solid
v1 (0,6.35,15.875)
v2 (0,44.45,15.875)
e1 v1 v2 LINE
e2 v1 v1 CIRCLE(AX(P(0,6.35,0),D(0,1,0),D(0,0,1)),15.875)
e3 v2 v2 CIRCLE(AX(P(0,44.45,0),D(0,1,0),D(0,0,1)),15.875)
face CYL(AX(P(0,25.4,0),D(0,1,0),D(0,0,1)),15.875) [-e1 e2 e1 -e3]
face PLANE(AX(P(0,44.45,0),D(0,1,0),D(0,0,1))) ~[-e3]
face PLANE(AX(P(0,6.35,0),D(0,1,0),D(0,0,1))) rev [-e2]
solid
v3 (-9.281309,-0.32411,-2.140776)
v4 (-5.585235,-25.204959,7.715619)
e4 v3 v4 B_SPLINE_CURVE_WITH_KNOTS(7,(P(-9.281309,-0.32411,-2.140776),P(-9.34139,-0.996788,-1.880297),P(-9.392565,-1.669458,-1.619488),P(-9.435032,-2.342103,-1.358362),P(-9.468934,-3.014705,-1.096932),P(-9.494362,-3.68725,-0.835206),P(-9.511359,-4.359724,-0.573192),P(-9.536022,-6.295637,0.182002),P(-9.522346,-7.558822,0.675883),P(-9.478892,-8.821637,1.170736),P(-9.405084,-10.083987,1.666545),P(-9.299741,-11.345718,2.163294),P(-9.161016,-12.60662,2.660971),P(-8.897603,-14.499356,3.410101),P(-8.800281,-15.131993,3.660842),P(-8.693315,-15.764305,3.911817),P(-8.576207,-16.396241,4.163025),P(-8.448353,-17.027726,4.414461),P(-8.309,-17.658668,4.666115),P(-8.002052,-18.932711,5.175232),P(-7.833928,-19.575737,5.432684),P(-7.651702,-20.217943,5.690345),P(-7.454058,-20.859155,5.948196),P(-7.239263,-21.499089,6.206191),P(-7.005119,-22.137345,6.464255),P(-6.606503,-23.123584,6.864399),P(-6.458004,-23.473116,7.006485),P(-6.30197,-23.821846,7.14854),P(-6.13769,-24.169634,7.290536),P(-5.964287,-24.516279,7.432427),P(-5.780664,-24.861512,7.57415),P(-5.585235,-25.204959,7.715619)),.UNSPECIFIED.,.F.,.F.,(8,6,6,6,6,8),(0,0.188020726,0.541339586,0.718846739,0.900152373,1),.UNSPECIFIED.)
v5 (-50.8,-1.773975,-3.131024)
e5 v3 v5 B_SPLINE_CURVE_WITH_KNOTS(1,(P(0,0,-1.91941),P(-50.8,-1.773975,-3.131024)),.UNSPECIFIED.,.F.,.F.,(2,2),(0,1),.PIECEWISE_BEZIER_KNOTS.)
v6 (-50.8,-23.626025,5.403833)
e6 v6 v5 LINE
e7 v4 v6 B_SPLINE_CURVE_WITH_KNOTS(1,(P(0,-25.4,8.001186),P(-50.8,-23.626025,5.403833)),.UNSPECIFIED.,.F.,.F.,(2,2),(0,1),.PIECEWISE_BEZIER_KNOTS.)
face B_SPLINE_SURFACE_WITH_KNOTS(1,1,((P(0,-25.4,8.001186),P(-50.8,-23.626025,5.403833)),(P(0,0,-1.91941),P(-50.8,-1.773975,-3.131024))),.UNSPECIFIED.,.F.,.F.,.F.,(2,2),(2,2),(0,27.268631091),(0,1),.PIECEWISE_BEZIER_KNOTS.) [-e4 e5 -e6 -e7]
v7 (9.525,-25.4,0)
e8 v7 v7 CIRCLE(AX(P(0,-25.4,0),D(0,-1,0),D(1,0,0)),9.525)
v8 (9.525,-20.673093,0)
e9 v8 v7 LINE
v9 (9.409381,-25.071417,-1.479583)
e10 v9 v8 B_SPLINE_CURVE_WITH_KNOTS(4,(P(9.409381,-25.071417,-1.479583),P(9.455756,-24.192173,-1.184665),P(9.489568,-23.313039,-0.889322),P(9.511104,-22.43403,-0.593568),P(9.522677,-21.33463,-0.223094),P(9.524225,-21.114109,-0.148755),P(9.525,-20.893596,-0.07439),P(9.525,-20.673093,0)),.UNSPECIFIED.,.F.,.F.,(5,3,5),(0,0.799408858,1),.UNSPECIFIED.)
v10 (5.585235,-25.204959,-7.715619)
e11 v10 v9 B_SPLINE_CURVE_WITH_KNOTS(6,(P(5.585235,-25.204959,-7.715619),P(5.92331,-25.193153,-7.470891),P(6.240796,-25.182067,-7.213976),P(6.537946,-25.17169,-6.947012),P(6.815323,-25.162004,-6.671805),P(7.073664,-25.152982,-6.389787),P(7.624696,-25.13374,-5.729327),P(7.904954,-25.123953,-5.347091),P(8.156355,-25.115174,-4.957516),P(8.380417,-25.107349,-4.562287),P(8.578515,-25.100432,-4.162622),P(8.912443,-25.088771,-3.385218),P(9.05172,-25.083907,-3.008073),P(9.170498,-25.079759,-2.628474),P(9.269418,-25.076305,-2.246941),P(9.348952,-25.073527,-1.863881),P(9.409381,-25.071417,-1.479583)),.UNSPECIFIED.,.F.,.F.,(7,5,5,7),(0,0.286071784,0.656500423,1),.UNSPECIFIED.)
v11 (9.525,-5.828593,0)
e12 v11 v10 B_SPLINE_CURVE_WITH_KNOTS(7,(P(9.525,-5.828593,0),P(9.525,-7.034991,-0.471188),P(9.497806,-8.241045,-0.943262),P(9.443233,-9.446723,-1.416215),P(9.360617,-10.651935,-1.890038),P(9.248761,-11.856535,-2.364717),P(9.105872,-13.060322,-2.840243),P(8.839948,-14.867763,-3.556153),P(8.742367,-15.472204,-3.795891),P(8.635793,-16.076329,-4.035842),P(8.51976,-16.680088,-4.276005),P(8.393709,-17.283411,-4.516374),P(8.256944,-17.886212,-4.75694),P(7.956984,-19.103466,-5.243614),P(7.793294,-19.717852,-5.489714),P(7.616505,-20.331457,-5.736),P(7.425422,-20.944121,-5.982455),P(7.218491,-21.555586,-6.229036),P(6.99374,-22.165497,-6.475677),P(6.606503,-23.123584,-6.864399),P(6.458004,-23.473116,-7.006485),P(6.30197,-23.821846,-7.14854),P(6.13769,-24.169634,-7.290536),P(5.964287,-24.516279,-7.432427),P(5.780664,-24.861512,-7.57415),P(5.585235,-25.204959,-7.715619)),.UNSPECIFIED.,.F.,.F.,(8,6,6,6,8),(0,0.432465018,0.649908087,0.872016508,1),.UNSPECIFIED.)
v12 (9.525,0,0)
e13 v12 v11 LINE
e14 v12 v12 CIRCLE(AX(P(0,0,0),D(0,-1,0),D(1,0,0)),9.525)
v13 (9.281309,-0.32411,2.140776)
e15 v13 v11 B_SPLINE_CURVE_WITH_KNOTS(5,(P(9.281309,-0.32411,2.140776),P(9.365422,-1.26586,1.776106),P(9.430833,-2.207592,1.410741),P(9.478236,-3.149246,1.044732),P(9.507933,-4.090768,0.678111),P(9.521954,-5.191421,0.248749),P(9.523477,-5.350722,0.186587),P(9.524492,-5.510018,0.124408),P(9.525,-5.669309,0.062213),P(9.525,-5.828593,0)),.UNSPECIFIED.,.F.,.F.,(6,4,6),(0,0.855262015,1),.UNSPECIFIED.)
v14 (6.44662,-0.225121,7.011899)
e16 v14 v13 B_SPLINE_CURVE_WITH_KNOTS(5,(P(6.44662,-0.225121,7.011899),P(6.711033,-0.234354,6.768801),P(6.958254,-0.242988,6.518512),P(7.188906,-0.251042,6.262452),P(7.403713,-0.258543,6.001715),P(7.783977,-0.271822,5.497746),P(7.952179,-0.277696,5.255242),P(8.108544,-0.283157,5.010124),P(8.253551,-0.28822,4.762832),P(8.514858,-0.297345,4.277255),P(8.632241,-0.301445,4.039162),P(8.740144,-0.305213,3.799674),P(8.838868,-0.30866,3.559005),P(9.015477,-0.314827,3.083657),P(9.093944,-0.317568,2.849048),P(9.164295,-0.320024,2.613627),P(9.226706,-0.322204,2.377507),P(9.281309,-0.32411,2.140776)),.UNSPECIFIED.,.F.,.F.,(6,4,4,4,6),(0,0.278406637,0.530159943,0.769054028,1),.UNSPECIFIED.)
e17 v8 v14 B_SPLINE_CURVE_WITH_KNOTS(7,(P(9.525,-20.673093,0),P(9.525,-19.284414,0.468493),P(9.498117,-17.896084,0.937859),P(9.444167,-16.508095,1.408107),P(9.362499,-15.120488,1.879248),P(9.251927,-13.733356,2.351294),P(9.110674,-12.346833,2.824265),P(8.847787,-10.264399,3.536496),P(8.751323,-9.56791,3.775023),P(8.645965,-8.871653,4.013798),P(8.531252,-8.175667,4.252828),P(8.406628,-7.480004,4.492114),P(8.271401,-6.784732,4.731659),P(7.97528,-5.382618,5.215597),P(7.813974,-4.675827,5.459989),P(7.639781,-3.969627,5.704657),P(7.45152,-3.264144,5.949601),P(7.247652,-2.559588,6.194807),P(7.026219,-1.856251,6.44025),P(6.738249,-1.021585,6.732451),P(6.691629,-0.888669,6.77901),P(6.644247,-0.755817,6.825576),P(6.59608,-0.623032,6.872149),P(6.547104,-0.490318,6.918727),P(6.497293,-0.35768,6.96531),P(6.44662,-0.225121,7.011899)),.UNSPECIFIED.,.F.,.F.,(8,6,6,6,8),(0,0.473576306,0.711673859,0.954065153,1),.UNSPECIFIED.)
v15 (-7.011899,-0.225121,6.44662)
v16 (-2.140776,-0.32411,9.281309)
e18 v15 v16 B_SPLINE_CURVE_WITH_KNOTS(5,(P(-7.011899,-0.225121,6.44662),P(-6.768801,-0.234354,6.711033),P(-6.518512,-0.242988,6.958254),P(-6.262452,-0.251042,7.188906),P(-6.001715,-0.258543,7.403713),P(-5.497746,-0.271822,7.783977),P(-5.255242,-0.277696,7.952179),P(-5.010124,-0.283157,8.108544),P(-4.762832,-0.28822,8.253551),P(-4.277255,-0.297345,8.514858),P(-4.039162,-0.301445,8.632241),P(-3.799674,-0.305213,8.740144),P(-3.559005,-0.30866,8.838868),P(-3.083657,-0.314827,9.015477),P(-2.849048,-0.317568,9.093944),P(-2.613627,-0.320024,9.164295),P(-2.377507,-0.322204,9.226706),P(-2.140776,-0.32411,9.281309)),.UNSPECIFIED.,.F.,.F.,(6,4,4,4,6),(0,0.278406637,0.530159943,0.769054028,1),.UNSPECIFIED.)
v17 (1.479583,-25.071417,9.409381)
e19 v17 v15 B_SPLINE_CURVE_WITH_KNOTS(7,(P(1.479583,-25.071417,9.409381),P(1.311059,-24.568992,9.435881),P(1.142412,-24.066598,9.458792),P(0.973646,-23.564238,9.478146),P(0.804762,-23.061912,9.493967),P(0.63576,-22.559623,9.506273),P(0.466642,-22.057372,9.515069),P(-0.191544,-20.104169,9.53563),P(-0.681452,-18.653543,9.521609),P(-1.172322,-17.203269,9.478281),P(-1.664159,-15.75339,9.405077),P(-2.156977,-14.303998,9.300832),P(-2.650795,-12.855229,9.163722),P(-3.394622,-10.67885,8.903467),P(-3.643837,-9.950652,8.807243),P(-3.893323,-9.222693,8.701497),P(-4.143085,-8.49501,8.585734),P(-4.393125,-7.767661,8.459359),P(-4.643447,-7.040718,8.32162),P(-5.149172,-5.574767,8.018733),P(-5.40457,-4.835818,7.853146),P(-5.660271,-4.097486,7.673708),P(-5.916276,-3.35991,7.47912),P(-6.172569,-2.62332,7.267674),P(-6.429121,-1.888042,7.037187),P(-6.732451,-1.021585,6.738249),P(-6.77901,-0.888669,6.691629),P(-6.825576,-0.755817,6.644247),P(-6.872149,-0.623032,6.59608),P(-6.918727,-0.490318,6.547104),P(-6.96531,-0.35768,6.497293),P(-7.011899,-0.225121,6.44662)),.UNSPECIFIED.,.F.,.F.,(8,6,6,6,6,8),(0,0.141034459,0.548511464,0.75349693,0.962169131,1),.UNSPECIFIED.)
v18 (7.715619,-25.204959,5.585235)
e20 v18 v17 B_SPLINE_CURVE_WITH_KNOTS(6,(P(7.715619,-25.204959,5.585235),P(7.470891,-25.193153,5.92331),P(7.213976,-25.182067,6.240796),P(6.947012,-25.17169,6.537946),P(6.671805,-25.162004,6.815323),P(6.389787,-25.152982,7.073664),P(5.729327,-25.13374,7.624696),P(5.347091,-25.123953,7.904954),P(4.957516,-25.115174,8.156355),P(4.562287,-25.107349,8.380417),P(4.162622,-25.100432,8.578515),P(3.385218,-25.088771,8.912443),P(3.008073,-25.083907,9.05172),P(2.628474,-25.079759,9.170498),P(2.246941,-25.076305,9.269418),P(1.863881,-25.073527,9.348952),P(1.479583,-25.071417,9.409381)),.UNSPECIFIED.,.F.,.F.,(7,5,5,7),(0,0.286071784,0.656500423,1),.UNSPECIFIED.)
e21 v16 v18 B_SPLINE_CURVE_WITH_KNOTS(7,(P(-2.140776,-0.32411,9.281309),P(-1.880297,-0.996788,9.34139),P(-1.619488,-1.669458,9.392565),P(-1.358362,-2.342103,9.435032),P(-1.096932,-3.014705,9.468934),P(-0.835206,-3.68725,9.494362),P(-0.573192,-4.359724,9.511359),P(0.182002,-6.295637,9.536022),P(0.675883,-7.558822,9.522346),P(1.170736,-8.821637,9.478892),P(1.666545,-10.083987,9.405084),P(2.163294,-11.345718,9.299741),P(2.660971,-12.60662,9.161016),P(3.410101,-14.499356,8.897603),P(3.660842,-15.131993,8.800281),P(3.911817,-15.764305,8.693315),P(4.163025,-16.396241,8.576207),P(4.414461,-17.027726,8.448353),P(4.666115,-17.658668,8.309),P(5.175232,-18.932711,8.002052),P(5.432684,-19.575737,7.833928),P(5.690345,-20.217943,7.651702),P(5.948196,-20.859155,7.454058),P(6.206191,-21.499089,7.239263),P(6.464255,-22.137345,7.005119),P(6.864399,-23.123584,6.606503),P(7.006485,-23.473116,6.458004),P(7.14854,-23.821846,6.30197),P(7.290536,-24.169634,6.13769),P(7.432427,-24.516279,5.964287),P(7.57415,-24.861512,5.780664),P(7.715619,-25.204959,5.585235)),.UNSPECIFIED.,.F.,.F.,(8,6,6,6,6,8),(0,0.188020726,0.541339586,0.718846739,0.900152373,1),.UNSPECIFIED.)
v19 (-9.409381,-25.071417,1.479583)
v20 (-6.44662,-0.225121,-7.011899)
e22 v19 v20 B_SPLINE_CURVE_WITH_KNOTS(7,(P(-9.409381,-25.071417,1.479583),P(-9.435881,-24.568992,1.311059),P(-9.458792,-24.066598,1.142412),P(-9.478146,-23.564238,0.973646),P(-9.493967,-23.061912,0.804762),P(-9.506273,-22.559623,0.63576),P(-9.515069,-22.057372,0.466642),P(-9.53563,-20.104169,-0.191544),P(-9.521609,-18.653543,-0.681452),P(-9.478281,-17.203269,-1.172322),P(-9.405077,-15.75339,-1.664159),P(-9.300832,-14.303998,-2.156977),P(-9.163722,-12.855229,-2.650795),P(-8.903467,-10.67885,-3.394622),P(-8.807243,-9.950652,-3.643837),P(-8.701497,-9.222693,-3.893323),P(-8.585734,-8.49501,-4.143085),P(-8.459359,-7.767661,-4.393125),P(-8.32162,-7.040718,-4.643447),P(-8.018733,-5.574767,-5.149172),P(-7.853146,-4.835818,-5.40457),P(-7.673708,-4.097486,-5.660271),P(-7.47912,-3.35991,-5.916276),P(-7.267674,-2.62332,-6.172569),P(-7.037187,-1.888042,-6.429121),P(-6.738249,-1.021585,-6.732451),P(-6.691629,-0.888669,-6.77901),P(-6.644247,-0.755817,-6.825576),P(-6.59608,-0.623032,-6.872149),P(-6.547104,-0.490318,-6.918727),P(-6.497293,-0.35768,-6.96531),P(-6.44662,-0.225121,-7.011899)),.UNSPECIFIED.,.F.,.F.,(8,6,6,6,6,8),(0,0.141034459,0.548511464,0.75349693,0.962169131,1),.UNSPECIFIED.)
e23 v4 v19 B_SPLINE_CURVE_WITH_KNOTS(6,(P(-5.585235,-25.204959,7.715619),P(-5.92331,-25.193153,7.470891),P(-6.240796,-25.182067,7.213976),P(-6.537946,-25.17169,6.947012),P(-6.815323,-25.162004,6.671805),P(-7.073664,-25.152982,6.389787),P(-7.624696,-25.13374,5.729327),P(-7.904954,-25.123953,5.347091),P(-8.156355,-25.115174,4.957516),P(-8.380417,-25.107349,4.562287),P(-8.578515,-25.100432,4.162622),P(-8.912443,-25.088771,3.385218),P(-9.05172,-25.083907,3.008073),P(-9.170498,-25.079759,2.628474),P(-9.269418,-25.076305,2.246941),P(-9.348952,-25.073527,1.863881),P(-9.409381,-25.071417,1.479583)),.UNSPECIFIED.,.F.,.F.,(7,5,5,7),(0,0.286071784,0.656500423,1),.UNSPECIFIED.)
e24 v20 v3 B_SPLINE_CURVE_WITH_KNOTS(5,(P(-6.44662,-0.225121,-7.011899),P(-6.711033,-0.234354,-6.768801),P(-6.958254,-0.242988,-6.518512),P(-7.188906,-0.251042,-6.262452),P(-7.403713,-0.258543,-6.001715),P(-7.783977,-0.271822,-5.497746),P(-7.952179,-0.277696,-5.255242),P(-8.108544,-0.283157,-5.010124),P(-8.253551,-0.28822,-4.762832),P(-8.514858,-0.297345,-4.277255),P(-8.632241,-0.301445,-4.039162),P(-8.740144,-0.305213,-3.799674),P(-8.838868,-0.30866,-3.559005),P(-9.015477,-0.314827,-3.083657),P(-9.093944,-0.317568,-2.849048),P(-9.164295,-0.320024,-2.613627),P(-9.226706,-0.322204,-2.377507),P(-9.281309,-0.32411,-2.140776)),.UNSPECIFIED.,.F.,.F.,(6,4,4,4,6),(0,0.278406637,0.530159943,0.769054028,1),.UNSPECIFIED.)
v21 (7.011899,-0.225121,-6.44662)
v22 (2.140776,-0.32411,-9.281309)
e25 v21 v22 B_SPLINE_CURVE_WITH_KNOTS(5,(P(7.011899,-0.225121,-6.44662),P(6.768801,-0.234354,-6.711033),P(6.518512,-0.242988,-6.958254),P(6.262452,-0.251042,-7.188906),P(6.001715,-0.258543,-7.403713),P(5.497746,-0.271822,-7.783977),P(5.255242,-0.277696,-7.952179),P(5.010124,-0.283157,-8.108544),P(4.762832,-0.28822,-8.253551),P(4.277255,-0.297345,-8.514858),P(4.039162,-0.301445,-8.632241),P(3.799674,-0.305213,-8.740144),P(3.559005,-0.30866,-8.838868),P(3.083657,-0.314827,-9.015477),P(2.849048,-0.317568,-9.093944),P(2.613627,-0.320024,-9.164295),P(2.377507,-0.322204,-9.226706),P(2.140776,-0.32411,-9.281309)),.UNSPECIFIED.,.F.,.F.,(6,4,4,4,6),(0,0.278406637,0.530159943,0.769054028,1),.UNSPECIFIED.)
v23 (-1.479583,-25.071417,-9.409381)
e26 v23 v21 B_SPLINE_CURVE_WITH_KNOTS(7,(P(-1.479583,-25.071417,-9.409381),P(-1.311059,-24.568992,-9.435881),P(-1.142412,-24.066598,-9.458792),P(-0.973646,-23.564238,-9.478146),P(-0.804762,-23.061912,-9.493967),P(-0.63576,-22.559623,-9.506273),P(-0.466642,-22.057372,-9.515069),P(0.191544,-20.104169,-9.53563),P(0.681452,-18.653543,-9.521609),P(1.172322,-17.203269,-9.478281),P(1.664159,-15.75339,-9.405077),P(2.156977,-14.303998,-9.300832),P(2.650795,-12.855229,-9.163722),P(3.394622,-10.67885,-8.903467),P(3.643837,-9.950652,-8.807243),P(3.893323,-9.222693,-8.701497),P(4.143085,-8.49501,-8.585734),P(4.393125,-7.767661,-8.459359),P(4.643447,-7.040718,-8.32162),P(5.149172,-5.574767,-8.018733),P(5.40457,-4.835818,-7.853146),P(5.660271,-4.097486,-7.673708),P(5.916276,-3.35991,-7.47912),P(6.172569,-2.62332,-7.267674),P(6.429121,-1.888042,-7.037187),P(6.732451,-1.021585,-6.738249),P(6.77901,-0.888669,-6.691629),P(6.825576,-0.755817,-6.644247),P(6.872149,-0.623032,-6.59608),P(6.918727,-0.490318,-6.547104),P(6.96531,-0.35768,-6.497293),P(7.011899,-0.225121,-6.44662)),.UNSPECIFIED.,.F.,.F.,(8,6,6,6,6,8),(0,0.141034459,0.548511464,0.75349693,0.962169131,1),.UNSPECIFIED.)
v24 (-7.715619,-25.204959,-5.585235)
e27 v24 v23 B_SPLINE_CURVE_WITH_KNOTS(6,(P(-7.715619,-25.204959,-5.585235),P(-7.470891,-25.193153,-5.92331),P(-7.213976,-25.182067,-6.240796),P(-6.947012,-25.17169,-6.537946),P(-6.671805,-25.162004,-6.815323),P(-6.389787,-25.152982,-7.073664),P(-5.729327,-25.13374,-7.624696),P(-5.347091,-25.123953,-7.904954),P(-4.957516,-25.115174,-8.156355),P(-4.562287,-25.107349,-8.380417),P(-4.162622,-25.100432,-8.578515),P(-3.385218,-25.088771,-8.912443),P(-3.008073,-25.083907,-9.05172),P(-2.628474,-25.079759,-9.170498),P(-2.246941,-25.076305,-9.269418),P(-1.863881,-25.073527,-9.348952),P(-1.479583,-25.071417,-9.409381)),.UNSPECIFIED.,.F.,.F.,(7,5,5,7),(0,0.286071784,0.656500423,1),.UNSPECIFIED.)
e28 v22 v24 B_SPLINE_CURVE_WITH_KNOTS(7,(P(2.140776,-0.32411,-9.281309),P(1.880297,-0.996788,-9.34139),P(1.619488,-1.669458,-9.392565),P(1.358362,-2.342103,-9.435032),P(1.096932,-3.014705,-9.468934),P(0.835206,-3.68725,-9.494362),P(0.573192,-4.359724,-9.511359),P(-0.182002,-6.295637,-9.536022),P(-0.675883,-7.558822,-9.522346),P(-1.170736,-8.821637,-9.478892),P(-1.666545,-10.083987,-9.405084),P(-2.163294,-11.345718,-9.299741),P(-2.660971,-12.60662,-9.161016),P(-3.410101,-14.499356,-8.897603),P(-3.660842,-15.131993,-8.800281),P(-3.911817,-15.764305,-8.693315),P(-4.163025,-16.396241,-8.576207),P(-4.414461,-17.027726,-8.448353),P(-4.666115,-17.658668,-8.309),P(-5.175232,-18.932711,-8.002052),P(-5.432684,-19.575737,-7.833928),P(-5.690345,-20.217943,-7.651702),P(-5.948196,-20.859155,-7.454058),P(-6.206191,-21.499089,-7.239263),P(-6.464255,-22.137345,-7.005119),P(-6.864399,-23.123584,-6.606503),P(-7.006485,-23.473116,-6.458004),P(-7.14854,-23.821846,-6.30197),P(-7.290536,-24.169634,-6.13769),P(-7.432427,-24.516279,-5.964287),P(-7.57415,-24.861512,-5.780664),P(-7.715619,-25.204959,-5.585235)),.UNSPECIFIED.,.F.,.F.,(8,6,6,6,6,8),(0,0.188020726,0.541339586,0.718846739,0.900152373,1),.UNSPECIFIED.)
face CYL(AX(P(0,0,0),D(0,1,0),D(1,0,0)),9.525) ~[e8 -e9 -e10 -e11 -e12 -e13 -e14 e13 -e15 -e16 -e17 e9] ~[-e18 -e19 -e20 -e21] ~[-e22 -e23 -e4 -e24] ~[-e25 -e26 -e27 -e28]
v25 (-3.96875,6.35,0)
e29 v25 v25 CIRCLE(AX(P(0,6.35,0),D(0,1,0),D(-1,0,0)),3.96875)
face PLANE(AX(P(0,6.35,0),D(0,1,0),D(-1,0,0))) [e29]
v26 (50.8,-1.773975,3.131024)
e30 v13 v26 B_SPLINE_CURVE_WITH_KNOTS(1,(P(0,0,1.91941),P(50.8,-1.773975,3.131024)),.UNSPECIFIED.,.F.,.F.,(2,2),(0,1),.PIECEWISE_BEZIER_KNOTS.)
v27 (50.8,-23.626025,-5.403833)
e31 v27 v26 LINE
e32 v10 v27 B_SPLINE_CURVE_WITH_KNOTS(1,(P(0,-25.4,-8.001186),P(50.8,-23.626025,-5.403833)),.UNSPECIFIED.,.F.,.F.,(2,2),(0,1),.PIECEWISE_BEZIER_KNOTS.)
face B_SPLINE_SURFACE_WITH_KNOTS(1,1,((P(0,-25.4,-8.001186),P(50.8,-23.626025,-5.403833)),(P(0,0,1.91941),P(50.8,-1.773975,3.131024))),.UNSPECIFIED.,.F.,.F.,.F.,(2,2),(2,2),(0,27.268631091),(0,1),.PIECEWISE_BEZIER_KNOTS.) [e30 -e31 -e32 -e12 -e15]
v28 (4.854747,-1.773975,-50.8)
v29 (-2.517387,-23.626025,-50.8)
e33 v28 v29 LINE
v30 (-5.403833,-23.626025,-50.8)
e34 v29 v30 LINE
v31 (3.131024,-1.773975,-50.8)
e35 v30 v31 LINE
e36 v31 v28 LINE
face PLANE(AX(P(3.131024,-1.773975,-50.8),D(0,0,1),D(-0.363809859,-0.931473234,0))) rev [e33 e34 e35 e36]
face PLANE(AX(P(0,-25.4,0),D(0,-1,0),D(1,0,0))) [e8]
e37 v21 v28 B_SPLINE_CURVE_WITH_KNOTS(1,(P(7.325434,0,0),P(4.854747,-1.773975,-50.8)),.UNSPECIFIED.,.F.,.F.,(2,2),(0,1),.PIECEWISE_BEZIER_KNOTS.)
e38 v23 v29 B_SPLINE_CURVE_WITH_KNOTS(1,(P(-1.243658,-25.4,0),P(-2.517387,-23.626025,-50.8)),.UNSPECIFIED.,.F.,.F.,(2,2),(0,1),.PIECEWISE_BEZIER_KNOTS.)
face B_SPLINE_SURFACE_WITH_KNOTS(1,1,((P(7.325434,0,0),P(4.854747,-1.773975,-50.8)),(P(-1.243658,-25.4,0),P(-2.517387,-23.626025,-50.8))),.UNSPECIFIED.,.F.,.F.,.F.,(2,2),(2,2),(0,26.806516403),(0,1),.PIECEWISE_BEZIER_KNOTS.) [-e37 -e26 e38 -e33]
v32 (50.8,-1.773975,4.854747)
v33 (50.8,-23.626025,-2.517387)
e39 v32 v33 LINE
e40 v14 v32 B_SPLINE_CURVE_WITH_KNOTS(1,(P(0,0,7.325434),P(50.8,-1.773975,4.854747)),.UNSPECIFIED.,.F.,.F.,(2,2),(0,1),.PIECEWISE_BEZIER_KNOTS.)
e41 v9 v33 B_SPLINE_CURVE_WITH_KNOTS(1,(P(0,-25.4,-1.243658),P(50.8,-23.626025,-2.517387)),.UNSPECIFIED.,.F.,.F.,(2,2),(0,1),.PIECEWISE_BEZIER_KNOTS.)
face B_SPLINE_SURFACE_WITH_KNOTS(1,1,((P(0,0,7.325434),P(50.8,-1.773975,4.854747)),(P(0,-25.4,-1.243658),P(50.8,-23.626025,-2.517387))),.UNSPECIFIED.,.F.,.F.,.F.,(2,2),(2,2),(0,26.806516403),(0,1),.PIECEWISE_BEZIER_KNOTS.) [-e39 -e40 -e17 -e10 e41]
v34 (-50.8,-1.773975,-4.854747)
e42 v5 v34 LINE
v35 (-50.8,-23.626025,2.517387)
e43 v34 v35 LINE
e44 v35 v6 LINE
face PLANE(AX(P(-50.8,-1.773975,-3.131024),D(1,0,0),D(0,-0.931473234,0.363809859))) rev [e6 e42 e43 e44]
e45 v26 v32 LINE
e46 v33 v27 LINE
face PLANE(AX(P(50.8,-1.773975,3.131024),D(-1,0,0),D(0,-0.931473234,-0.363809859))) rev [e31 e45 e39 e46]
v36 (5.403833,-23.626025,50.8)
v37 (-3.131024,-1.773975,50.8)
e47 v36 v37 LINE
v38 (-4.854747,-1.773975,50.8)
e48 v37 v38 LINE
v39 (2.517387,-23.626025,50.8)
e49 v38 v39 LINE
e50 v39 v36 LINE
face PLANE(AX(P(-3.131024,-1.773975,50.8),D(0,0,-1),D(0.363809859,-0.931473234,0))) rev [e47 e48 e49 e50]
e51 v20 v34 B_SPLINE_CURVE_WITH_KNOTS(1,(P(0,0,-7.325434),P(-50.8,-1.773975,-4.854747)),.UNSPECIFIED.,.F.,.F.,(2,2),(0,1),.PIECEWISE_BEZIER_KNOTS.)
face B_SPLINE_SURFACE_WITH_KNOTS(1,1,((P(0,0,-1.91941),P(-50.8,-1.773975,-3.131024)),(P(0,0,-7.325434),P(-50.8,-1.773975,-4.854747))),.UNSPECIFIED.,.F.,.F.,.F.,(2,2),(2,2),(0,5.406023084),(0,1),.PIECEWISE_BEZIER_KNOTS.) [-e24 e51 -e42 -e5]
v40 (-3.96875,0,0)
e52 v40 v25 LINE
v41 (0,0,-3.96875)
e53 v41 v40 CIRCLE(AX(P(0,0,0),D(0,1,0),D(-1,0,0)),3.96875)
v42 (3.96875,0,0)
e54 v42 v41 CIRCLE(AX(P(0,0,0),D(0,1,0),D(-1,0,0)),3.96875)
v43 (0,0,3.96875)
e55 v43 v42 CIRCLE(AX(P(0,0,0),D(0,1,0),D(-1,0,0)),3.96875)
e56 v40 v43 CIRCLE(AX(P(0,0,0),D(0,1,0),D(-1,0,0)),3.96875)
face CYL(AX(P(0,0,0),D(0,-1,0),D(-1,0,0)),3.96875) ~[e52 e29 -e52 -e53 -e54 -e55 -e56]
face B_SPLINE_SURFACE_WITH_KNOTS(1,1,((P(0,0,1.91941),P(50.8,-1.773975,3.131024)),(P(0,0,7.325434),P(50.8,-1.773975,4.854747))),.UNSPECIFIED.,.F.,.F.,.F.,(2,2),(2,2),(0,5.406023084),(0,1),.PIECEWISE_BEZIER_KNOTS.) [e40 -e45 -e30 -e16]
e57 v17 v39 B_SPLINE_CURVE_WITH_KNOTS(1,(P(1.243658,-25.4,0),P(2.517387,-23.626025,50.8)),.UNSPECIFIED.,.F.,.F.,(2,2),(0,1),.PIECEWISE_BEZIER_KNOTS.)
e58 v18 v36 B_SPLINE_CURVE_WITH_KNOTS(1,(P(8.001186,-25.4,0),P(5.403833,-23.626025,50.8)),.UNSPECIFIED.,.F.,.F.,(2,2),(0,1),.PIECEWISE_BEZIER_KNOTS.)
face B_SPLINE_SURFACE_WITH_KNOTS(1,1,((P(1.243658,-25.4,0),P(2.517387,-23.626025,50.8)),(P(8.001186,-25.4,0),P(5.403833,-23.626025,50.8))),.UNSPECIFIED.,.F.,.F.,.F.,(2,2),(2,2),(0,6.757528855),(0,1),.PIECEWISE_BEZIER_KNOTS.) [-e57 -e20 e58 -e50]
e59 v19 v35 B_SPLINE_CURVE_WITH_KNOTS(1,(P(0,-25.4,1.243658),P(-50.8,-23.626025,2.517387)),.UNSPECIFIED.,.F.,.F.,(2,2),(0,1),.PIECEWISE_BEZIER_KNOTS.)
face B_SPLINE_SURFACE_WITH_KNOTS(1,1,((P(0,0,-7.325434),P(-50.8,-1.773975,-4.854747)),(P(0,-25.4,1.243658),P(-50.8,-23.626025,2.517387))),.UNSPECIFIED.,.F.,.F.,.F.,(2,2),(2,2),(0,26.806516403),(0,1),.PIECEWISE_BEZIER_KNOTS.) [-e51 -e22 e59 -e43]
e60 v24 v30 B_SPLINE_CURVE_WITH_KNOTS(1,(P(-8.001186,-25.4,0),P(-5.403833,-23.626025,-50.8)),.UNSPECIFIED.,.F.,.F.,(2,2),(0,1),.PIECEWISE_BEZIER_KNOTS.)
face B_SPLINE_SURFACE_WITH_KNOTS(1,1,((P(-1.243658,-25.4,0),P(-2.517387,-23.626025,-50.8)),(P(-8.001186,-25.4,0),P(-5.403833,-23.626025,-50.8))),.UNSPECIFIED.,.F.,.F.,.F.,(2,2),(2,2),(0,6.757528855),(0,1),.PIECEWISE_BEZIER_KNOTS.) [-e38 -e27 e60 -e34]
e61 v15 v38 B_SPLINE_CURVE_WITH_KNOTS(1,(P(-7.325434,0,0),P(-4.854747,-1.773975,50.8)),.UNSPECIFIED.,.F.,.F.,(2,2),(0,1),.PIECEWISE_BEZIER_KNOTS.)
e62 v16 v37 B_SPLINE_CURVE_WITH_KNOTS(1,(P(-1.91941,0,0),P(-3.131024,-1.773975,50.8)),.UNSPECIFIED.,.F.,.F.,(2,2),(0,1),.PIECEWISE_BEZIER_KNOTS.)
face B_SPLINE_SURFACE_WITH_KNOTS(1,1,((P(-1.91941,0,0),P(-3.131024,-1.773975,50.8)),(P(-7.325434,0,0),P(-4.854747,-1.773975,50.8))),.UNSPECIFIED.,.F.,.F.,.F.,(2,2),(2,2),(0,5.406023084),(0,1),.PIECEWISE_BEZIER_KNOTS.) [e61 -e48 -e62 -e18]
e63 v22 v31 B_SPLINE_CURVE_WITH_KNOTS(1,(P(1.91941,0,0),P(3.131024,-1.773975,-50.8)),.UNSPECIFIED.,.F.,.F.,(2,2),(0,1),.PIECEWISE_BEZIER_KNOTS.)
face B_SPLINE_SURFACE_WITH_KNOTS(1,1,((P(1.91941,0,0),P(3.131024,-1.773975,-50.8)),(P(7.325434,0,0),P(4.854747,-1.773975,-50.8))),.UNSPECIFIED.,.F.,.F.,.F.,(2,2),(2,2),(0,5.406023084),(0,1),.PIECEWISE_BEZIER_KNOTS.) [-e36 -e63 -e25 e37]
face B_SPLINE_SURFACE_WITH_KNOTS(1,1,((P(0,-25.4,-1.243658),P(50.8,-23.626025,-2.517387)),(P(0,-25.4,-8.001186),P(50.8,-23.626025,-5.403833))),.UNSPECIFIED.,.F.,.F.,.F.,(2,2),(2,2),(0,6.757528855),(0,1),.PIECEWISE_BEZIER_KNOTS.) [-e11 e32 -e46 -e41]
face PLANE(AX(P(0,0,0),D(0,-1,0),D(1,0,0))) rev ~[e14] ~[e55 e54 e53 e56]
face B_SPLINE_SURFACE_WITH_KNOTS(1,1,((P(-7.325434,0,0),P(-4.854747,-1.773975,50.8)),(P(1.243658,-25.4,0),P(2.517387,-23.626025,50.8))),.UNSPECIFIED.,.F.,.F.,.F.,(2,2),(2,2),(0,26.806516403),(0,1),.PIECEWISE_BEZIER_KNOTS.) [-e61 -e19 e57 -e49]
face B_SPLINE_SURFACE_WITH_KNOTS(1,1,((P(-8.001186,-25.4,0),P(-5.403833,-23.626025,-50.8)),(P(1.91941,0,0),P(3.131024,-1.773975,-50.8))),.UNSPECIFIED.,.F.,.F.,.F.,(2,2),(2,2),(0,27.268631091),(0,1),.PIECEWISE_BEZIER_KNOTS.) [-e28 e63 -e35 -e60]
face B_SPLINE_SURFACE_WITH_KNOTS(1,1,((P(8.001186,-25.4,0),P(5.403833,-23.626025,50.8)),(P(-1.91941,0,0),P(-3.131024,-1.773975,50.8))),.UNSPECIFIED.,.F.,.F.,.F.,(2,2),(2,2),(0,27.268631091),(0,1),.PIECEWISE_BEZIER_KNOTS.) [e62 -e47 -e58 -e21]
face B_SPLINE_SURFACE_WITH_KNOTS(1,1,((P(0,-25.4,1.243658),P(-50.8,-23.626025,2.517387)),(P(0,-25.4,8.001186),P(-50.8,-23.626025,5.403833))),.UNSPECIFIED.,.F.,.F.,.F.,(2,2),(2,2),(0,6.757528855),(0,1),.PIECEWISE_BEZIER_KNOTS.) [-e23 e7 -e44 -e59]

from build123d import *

# Parameters (mm, degrees)
F0_R     = 9.525
F1_DEPTH = 25.4
F3_DEPTH = 50.8
F3_TAPER = 2
F5_COUNT = 4
F6_R     = 3.96875
F7_DEPTH = 6.35
F8_W     = 38.1
F8_H     = 15.875


with BuildPart() as f1:
    # F0 (on Front) → F1 (new body)
    with BuildSketch(Plane.XZ):
        Circle(F0_R)
    extrude(amount=F1_DEPTH)



with BuildPart() as f3:
    # F2 (on Right) → F3 (new body)
    with BuildSketch(Plane.YZ):
        Polygon((0, 1.9194104331), (0, 7.3254335173), (-25.4, -1.2436575476), (-25.4, -8.0011864028), align=None)
    extrude(amount=F3_DEPTH, taper=F3_TAPER)


with BuildPart() as f1_1:
    add(f1.part)

    add(f3.part)  # F5 merges F3
    # F5: F3 ×4 about axis
    f5_axis = Axis((0, -12.7, 0), (0, 1, 0))
    for i in range(1, F5_COUNT):
        add(f3.part.rotate(f5_axis, i * 360 / F5_COUNT))

    # F6 (on face) → F7 (join)
    with BuildSketch(Plane(origin=(0, 0, 0), x_dir=(-1, 0, 0), z_dir=(0, 1, 0))):
        Circle(F6_R)
    extrude(amount=F7_DEPTH)


with BuildPart() as f9:
    # F8 (on Right) → F9 (revolve)
    with BuildSketch(Plane.YZ):
        with Locations((25.4, 7.9375)):
            Rectangle(F8_W, F8_H)
    revolve(axis=Axis((0, 25.4, 0), (0, 1, 0)))


solid = Compound([f1_1.part, f9.part])
